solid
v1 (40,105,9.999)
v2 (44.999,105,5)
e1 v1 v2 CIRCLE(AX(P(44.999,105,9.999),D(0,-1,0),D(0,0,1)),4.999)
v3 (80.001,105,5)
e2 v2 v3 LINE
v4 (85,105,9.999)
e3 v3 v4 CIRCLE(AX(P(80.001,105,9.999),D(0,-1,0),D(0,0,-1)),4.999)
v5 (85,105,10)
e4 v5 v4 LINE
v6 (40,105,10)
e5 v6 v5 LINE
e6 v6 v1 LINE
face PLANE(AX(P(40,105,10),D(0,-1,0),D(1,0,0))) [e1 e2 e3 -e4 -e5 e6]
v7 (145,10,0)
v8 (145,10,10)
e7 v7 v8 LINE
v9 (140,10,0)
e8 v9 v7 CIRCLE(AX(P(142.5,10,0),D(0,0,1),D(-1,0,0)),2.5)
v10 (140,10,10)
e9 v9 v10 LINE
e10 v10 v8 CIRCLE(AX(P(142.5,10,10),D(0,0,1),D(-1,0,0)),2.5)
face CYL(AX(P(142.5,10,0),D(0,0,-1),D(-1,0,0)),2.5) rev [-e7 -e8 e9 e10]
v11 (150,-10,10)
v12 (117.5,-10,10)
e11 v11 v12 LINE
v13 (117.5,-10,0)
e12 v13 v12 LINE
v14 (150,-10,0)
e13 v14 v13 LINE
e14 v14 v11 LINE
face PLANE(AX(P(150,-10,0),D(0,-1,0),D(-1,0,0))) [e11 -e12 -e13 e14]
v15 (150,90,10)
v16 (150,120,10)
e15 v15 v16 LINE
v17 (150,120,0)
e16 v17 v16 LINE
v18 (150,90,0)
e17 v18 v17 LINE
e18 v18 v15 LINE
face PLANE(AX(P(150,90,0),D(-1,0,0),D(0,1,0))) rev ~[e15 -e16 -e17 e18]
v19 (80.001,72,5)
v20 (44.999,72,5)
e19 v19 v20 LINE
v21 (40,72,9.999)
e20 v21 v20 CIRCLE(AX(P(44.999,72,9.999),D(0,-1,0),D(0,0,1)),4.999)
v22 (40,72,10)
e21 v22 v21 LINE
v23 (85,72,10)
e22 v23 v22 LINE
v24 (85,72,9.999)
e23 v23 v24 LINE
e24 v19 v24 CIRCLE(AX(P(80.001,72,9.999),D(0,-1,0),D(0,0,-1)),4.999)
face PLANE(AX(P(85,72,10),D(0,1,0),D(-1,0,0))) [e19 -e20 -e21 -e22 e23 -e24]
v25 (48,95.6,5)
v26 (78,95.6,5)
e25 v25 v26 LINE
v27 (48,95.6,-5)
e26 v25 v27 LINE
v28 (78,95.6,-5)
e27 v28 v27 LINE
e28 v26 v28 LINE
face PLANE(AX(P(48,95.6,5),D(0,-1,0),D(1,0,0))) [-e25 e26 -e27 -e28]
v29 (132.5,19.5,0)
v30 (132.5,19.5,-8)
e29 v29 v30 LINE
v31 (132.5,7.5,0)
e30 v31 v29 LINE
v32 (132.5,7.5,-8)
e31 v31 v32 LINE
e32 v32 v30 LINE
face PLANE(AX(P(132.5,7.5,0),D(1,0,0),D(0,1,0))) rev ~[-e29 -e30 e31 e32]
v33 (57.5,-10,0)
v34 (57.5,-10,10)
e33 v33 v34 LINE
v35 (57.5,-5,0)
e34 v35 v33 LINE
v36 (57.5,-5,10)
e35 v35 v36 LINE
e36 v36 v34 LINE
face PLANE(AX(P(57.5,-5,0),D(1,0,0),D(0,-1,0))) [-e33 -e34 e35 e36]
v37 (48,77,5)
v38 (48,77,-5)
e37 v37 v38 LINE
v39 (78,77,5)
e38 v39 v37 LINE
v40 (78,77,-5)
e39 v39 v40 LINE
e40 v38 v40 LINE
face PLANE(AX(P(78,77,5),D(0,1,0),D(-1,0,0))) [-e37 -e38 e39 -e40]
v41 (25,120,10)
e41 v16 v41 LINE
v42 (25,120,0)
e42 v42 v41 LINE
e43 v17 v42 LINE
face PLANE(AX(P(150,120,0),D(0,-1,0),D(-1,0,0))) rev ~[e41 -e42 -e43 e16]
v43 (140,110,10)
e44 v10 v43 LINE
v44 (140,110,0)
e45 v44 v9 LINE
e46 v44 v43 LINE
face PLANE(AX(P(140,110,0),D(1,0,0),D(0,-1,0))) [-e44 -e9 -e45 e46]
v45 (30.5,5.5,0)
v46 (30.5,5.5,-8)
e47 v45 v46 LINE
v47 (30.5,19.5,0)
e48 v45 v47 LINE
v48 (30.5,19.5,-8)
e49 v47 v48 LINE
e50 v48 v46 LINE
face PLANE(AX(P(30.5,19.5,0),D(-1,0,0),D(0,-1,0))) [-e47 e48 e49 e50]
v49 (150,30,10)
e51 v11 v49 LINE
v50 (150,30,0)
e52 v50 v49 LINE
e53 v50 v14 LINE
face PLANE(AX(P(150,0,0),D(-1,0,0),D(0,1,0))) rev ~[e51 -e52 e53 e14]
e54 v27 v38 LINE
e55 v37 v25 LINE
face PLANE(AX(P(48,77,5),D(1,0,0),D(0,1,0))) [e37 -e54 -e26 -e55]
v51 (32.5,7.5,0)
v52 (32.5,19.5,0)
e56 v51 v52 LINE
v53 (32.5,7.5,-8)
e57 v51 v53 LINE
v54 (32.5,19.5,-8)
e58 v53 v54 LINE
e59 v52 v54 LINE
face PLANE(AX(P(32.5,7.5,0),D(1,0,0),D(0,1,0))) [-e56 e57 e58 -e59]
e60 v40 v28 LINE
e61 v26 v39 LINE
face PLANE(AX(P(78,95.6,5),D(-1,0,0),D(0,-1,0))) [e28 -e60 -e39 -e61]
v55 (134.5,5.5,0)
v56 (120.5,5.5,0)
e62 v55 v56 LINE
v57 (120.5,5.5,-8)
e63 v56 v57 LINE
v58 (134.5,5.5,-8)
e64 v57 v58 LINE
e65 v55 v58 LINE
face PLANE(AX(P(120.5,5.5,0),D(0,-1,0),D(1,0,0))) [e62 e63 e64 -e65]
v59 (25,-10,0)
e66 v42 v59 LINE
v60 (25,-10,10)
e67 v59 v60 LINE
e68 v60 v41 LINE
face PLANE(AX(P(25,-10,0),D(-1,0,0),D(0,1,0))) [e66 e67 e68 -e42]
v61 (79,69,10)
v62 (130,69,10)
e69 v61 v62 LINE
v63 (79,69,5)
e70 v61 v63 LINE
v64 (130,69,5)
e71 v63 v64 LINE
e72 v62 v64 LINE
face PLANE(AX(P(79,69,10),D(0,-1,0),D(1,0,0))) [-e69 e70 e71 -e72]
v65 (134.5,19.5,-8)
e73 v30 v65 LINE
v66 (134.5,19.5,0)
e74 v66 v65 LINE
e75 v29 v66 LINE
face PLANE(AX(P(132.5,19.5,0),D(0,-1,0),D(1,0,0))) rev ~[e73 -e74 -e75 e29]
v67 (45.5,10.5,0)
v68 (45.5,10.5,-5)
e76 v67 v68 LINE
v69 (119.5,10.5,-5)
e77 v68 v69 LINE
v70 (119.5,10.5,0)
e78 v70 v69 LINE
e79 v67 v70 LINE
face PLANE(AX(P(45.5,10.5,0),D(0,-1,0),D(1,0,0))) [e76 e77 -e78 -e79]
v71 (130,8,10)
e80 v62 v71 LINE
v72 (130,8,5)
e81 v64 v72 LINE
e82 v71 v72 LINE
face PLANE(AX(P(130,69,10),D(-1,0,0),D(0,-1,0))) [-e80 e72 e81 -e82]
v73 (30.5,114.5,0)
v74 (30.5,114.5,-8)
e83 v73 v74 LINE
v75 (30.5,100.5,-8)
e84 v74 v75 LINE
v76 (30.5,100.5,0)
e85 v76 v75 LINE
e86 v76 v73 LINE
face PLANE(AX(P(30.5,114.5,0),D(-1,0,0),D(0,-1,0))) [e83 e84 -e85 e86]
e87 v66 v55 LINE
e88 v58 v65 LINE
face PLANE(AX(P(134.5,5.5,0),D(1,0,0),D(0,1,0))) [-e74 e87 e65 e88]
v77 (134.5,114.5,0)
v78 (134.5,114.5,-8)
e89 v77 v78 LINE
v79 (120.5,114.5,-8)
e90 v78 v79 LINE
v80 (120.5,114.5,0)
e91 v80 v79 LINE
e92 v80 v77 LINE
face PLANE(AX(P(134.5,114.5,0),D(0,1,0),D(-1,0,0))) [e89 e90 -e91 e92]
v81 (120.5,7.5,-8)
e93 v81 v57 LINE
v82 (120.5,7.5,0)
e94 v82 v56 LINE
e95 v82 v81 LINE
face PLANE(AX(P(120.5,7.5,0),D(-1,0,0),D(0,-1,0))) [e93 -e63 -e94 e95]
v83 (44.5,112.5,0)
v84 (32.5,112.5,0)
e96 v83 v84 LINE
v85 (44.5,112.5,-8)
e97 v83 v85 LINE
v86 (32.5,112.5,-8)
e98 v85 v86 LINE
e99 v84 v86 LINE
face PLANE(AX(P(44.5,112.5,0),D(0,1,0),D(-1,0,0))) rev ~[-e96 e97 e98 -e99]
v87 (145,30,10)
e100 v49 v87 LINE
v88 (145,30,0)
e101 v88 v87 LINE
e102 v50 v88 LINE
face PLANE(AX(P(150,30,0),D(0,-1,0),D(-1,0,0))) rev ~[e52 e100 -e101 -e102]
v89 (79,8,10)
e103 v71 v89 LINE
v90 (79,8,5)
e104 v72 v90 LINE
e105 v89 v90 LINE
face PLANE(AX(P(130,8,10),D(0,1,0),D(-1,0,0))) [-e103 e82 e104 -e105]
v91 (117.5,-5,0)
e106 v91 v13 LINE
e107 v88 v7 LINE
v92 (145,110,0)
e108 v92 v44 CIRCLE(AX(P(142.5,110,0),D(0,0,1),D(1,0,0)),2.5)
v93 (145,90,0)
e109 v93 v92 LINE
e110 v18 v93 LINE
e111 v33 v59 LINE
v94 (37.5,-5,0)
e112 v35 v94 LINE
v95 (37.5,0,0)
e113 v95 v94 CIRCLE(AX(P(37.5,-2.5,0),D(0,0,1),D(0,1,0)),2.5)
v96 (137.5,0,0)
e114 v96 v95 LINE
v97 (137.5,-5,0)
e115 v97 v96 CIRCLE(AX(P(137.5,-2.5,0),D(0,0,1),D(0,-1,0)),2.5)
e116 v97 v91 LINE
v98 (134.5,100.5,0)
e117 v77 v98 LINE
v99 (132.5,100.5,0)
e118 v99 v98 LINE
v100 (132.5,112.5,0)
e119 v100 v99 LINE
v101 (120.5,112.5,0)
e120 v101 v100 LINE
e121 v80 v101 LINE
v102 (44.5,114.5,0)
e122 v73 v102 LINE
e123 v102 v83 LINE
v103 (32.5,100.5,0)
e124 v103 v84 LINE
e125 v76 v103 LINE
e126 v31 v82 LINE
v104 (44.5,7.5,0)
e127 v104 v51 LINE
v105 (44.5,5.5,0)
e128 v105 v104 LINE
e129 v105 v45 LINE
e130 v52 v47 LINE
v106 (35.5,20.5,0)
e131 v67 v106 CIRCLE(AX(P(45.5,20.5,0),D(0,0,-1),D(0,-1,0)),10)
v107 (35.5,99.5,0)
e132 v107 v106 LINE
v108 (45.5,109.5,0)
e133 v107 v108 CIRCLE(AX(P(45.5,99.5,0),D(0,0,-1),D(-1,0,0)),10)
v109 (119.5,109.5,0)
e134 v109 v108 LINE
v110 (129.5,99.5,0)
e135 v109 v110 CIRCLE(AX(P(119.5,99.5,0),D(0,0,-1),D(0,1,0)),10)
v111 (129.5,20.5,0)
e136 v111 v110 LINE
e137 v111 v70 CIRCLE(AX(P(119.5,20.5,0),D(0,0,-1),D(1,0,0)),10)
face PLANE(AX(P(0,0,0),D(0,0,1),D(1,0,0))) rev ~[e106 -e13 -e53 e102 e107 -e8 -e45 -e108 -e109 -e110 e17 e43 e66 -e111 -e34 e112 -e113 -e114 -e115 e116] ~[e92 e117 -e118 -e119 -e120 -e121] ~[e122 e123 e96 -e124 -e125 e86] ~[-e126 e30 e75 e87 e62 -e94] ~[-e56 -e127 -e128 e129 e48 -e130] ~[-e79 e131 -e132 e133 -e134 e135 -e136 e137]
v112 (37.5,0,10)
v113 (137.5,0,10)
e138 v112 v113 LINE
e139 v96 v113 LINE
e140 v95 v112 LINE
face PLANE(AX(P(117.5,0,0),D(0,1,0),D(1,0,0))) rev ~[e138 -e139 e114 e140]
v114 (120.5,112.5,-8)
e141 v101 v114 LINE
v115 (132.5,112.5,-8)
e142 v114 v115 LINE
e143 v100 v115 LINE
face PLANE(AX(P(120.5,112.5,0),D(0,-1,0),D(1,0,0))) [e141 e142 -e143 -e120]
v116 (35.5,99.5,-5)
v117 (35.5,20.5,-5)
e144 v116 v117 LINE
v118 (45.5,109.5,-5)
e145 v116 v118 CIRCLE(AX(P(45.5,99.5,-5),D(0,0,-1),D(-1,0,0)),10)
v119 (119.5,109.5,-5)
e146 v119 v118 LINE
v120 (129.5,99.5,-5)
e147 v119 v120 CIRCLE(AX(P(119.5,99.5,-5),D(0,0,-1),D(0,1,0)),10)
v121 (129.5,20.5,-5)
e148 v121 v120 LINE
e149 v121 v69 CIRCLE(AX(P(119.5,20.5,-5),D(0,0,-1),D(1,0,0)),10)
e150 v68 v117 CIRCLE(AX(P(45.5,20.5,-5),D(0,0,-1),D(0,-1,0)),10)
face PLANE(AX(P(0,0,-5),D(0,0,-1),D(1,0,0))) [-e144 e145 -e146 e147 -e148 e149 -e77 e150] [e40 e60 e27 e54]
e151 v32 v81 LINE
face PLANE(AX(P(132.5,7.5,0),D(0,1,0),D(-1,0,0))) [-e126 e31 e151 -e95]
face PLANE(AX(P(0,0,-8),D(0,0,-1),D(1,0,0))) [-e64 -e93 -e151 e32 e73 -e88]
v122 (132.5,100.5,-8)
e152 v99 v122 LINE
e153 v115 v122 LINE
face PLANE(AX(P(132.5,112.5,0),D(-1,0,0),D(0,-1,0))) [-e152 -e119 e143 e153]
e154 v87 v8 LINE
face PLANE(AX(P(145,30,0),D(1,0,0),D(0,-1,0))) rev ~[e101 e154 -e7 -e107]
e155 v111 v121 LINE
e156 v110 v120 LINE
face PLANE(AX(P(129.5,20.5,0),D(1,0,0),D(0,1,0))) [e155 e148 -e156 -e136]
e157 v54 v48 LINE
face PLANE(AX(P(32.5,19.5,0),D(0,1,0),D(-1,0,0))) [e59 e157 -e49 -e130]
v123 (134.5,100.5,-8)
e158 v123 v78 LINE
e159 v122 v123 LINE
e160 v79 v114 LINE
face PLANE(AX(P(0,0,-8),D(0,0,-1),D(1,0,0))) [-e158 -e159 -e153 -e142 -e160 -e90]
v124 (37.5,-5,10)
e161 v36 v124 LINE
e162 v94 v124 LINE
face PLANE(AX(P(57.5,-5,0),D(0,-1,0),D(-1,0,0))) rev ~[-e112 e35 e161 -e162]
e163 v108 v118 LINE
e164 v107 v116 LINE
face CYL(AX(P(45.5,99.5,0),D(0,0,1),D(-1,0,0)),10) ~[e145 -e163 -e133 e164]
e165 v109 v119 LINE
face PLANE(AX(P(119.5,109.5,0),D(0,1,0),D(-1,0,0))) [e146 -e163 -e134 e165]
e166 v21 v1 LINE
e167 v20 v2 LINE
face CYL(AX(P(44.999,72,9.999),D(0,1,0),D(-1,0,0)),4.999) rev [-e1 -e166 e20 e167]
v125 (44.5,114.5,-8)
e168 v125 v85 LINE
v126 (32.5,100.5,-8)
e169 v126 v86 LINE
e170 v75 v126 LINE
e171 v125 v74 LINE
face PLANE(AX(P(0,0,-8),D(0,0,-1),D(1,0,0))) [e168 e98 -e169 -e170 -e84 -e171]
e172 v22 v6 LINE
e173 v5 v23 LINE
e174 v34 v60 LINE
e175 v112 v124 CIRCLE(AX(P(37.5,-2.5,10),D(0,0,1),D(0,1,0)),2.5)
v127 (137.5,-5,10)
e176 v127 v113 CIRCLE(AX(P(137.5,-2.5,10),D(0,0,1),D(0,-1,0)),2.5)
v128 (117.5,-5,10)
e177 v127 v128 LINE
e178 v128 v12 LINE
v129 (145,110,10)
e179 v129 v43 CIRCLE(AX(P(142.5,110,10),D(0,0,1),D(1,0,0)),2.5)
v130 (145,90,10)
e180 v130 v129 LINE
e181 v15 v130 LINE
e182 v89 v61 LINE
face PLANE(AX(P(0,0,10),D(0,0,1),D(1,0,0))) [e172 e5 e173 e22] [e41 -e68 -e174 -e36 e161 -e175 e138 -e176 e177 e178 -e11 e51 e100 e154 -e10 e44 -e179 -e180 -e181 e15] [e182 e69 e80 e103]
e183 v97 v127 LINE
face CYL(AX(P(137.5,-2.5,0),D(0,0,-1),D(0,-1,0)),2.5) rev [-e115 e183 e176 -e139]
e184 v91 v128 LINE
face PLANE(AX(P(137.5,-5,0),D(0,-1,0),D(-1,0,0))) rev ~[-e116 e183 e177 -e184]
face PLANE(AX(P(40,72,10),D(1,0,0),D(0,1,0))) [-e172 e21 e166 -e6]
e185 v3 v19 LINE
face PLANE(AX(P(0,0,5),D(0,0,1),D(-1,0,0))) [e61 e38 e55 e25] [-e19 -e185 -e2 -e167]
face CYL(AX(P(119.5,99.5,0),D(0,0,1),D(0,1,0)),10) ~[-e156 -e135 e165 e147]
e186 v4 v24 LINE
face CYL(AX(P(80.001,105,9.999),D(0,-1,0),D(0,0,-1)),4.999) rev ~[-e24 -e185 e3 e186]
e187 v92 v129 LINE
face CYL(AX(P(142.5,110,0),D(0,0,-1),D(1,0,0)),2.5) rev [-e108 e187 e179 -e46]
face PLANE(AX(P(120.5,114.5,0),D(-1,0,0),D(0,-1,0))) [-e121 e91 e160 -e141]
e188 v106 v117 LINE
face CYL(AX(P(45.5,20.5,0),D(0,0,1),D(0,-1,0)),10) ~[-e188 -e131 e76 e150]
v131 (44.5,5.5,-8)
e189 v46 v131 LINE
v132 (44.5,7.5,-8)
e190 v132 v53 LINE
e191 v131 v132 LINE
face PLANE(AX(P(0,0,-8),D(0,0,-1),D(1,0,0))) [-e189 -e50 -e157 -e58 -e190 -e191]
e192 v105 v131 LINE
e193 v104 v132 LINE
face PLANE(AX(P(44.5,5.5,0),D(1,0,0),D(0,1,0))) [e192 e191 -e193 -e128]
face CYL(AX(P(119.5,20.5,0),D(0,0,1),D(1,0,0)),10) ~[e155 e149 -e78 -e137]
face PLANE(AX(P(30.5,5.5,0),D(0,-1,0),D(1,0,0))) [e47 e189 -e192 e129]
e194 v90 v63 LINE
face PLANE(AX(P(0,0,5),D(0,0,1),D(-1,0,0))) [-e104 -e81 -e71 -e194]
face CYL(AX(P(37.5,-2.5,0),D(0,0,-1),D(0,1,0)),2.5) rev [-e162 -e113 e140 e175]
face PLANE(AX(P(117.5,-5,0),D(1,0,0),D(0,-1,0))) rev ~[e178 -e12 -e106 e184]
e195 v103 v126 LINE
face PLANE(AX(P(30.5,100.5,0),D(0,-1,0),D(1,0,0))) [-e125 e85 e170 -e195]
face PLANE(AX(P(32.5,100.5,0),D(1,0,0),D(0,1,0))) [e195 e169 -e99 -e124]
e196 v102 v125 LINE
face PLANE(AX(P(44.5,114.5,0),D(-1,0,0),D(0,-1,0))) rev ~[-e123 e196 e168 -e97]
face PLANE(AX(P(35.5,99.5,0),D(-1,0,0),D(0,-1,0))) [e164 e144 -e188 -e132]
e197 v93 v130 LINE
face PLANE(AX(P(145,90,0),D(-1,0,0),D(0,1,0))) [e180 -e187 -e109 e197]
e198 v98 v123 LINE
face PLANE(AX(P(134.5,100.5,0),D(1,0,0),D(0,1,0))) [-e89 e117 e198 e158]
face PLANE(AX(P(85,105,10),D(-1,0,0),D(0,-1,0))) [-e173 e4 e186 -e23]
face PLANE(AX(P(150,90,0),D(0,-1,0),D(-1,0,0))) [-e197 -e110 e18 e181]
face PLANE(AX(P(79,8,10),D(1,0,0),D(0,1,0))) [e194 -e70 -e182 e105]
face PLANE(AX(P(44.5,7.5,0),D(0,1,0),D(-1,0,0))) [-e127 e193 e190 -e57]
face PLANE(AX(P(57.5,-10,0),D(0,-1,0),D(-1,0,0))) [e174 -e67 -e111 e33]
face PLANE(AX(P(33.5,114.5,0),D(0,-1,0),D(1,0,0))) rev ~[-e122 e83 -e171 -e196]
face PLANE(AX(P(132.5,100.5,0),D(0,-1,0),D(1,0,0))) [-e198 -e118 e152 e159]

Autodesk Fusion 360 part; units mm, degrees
sketch "草图1" plane through (0, 0, 0) normal (0, 0, 1) x (1, 0, 0)
  line L0 (57.5, -10) -> (25, -10)
  line L1 (25, -10) -> (25, 0)
  line L2 (25, 0) -> (150, 0)
  line L3 (57.5, -5) -> (57.5, -10)
  line L4 (87.5, 0) -> (117.5, 0)
  arc A0 (137.5, -5) -> (137.5, 0) centre (137.5, -2.5) ccw
  line L5 (150, 30) -> (145, 30)
  arc A1 (37.5, 0) -> (37.5, -5) centre (37.5, -2.5) ccw
  line L6 (150, -10) -> (117.5, -10)
  line L7 (140, 110) -> (140, 60)
  line L8 (150, 120) -> (25, 120)
  line L9 (150, 90) -> (145, 90)
  line L10 (150, 90) -> (150, 120)
  line L11 (87.5, 0) -> (87.5, 120) construction
  line L12 (117.5, -5) -> (117.5, -10)
  line L13 (145, 30) -> (145, 10)
  arc A2 (140, 10) -> (145, 10) centre (142.5, 10) ccw
  line L14 (150, 0) -> (150, 30)
  line L15 (150, 0) -> (150, -10)
  line L16 (137.5, -5) -> (117.5, -5)
  line L17 (140, 10) -> (140, 60)
  line L18 (145, 90) -> (145, 110)
  arc A3 (145, 110) -> (140, 110) centre (142.5, 110) ccw
  line L19 (57.5, -5) -> (37.5, -5)
  line L20 (25, 0) -> (150, 0)
  line L21 (25, 120) -> (25, 0)
  dimension "d1" = 120
  dimension "d2" = 125
  dimension "d3" = 100
  dimension "d4" = 20
  dimension "d5" = 20
  dimension "d6" = 5
  dimension "d7" = 5
  dimension "d8" = 2.5
  dimension "d9" = 2.5
  dimension "d10" = 10
extrude "拉伸1" add sketch "草图1" along normal blind 10 makes body 1
sketch "草图2" plane through (0, 0, 0) normal (0, 0, -1) x (1, 0, 0)
  line L0 (150, -120) -> (150, -90)
  line L1 (150, -90) -> (145, -90)
  line L2 (145, -90) -> (145, -110)
  arc A0 (140, -110) -> (145, -110) centre (142.5, -110) ccw
  line L3 (140, -110) -> (140, -10)
  arc A1 (145, -10) -> (140, -10) centre (142.5, -10) ccw
  line L4 (145, -10) -> (145, -30)
  line L5 (145, -30) -> (150, -30)
  line L6 (150, -30) -> (150, 10)
  line L7 (150, 10) -> (117.5, 10)
  line L8 (117.5, 10) -> (117.5, 5)
  line L9 (117.5, 5) -> (137.5, 5)
  arc A2 (137.5, 0) -> (137.5, 5) centre (137.5, 2.5) ccw
  line L10 (137.5, 0) -> (37.5, 0)
  arc A3 (37.5, 5) -> (37.5, 0) centre (37.5, 2.5) ccw
  line L11 (37.5, 5) -> (57.5, 5)
  line L12 (57.5, 5) -> (57.5, 10)
  line L13 (57.5, 10) -> (25, 10)
  line L14 (25, 10) -> (25, -120)
  line L15 (25, -120) -> (150, -120)
  line L16 (45.5, -10.5) -> (119.5, -10.5)
  line L17 (129.5, -20.5) -> (129.5, -99.5)
  line L18 (119.5, -109.5) -> (45.5, -109.5)
  line L19 (35.5, -99.5) -> (35.5, -20.5)
  arc A4 (45.5, -10.5) -> (35.5, -20.5) centre (45.5, -20.5) ccw
  arc A5 (129.5, -20.5) -> (119.5, -10.5) centre (119.5, -20.5) ccw
  arc A6 (119.5, -109.5) -> (129.5, -99.5) centre (119.5, -99.5) ccw
  arc A7 (35.5, -99.5) -> (45.5, -109.5) centre (45.5, -99.5) ccw
  point P0 (35.5, -10.5)
  point P1 (129.5, -10.5)
  point P2 (35.5, -109.5)
  dimension "d13" = 94
  dimension "d14" = 99
  dimension "d15" = 10.5
  dimension "d16" = 10.5
  dimension "d17" = 10.5
  dimension "d18" = 10.5
  dimension "d19" = 10
  dimension "d20" = 10
  dimension "d21" = 10
  dimension "d22" = 10
extrude "拉伸2" add sketch "草图2" along normal blind 5 contours L16 L17 L18 L19 A4 A5 A6 A7 bodies 1
sketch "草图3" plane through (0, 0, 0) normal (0, 0, -1) x (1, 0, 0)
  line L0 (45.5, -10.5) -> (119.5, -10.5)
  arc A0 (129.5, -20.5) -> (119.5, -10.5) centre (119.5, -20.5) ccw
  line L1 (129.5, -20.5) -> (129.5, -99.5)
  arc A1 (119.5, -109.5) -> (129.5, -99.5) centre (119.5, -99.5) ccw
  line L2 (119.5, -109.5) -> (45.5, -109.5)
  arc A2 (35.5, -99.5) -> (45.5, -109.5) centre (45.5, -99.5) ccw
  line L3 (35.5, -99.5) -> (35.5, -20.5)
  arc A3 (45.5, -10.5) -> (35.5, -20.5) centre (45.5, -20.5) ccw
  line L4 (150, -120) -> (150, -90)
  line L5 (150, -90) -> (145, -90)
  line L6 (145, -90) -> (145, -110)
  arc A4 (140, -110) -> (145, -110) centre (142.5, -110) ccw
  line L7 (140, -110) -> (140, -10)
  arc A5 (145, -10) -> (140, -10) centre (142.5, -10) ccw
  line L8 (145, -10) -> (145, -30)
  line L9 (145, -30) -> (150, -30)
  line L10 (150, -30) -> (150, 10)
  line L11 (150, 10) -> (117.5, 10)
  line L12 (117.5, 10) -> (117.5, 5)
  line L13 (117.5, 5) -> (137.5, 5)
  arc A6 (137.5, 0) -> (137.5, 5) centre (137.5, 2.5) ccw
  line L14 (137.5, 0) -> (37.5, 0)
  arc A7 (37.5, 5) -> (37.5, 0) centre (37.5, 2.5) ccw
  line L15 (37.5, 5) -> (57.5, 5)
  line L16 (57.5, 5) -> (57.5, 10)
  line L17 (57.5, 10) -> (25, 10)
  line L18 (25, 10) -> (25, -120)
  line L19 (25, -120) -> (150, -120)
  line L20 (30.5, -5.5) -> (44.5, -5.5)
  line L21 (44.5, -5.5) -> (44.5, -7.5)
  line L22 (44.5, -7.5) -> (32.5, -7.5)
  line L23 (30.5, -7.5) -> (30.5, -5.5)
  line L24 (30.5, -5.5) -> (33.5, -5.5)
  line L25 (32.5, -7.5) -> (32.5, -19.5)
  line L26 (32.5, -19.5) -> (30.5, -19.5)
  line L27 (30.5, -19.5) -> (30.5, -5.5)
  line L28 (120.5, -5.5) -> (134.5, -5.5)
  line L29 (134.5, -5.5) -> (134.5, -8.5)
  line L30 (132.5, -7.5) -> (120.5, -7.5)
  line L31 (120.5, -7.5) -> (120.5, -5.5)
  line L32 (134.5, -5.5) -> (131.5, -5.5)
  line L33 (132.5, -7.5) -> (132.5, -19.5)
  line L34 (132.5, -19.5) -> (134.5, -19.5)
  line L35 (134.5, -19.5) -> (134.5, -5.5)
  line L36 (30.5, -100.5) -> (32.5, -100.5)
  line L37 (32.5, -100.5) -> (32.5, -112.5)
  line L38 (33.5, -114.5) -> (30.5, -114.5)
  line L39 (30.5, -114.5) -> (30.5, -100.5)
  line L40 (30.5, -114.5) -> (44.5, -114.5)
  line L41 (44.5, -114.5) -> (44.5, -112.5)
  line L42 (44.5, -112.5) -> (32.5, -112.5)
  line L43 (30.5, -111.5) -> (30.5, -114.5)
  line L44 (120.5, -112.5) -> (132.5, -112.5)
  line L45 (134.5, -112.5) -> (134.5, -114.5)
  line L46 (134.5, -114.5) -> (120.5, -114.5)
  line L47 (120.5, -114.5) -> (120.5, -112.5)
  line L48 (134.5, -114.5) -> (131.5, -114.5)
  line L49 (132.5, -112.5) -> (132.5, -100.5)
  line L50 (132.5, -100.5) -> (134.5, -100.5)
  line L51 (134.5, -100.5) -> (134.5, -114.5)
  dimension "d28" = 14
  dimension "d29" = 5.5
  dimension "d30" = 5.5
  dimension "d31" = 14
  dimension "d32" = 2
  dimension "d34" = 14
  dimension "d35" = 5.5
  dimension "d36" = 5.5
  dimension "d37" = 2
  dimension "d38" = 14
  dimension "d39" = 14
  dimension "d41" = 5.5
  dimension "d42" = 5.5
  dimension "d43" = 14
  dimension "d44" = 2
  dimension "d45" = 14
  dimension "d46" = 5.5
  dimension "d47" = 5.5
  dimension "d107" = 2
  dimension "d108" = 14
  dimension "d109" = 2
  dimension "d110" = 2
  dimension "d111" = 2
  dimension "d112" = 2
extrude "拉伸3" add sketch "草图3" along normal blind 8 contours L20 L21 L22 L23 L24 L25 L26 L27 | L28 L29 L30 L31 L32 L33 L34 L35 | L36 L37 L38 L39 L40 L41 L42 L43 | L44 L45 L46 L47 L48 L49 L50 L51 bodies 1
sketch "草图4" plane through (0, 0, 10) normal (0, 0, 1) x (-1, 0, 0)
  line L0 (-150, -90) -> (-150, -120)
  line L1 (-150, -120) -> (-25, -120)
  line L2 (-25, -120) -> (-25, 10)
  line L3 (-25, 10) -> (-57.5, 10)
  line L4 (-57.5, 10) -> (-57.5, 5)
  line L5 (-57.5, 5) -> (-37.5, 5)
  arc A0 (-37.5, 0) -> (-37.5, 5) centre (-37.5, 2.5) ccw
  line L6 (-37.5, 0) -> (-137.5, 0)
  arc A1 (-137.5, 5) -> (-137.5, 0) centre (-137.5, 2.5) ccw
  line L7 (-137.5, 5) -> (-117.5, 5)
  line L8 (-117.5, 5) -> (-117.5, 10)
  line L9 (-117.5, 10) -> (-150, 10)
  line L10 (-150, 10) -> (-150, -30)
  line L11 (-150, -30) -> (-145, -30)
  line L12 (-145, -30) -> (-145, -10)
  arc A2 (-140, -10) -> (-145, -10) centre (-142.5, -10) ccw
  line L13 (-140, -10) -> (-140, -110)
  arc A3 (-145, -110) -> (-140, -110) centre (-142.5, -110) ccw
  line L14 (-145, -110) -> (-145, -90)
  line L15 (-145, -90) -> (-150, -90)
  line L16 (-40, -105) -> (-85, -105)
  line L17 (-85, -105) -> (-85, -72)
  line L18 (-85, -72) -> (-40, -72)
  line L19 (-40, -72) -> (-40, -105)
  dimension "d50" = 45
  dimension "d51" = 33
  dimension "d52" = 15
  dimension "d53" = 15
extrude "拉伸4" cut sketch "草图4" against normal blind 5 contours L16 L17 L18 L19 bodies 1
fillet "圆角1" radius 5 1 edges at (40, 88.5, 5) on bodies 1
fillet "圆角2" radius 5 1 edges at (85, 88.5, 5) on bodies 1
sketch "草图5" plane through (0, 0, 10) normal (0, 0, 1) x (-1, 0, 0)
  line L0 (-85, -105) -> (-85, -72)
  line L1 (-85, -72) -> (-40, -72)
  line L2 (-40, -72) -> (-40, -105)
  line L3 (-40, -105) -> (-85, -105)
  line L4 (-150, -90) -> (-150, -120)
  line L5 (-150, -120) -> (-25, -120)
  line L6 (-25, -120) -> (-25, 10)
  line L7 (-25, 10) -> (-57.5, 10)
  line L8 (-57.5, 10) -> (-57.5, 5)
  line L9 (-57.5, 5) -> (-37.5, 5)
  arc A0 (-37.5, 0) -> (-37.5, 5) centre (-37.5, 2.5) ccw
  line L10 (-37.5, 0) -> (-137.5, 0)
  arc A1 (-137.5, 5) -> (-137.5, 0) centre (-137.5, 2.5) ccw
  line L11 (-137.5, 5) -> (-117.5, 5)
  line L12 (-117.5, 5) -> (-117.5, 10)
  line L13 (-117.5, 10) -> (-150, 10)
  line L14 (-150, 10) -> (-150, -30)
  line L15 (-150, -30) -> (-145, -30)
  line L16 (-145, -30) -> (-145, -10)
  arc A2 (-140, -10) -> (-145, -10) centre (-142.5, -10) ccw
  line L17 (-140, -10) -> (-140, -110)
  arc A3 (-145, -110) -> (-140, -110) centre (-142.5, -110) ccw
  line L18 (-145, -110) -> (-145, -90)
  line L19 (-145, -90) -> (-150, -90)
  line L20 (-79, -69) -> (-130, -69)
  line L21 (-130, -69) -> (-130, -8)
  line L22 (-130, -8) -> (-79, -8)
  line L23 (-79, -8) -> (-79, -69)
  dimension "d60" = 10
  dimension "d61" = 8
  dimension "d113" = 61
  dimension "d114" = 51
sketch "草图12" plane through (0, 0, 5) normal (0, 0, 1) x (-1, 0, 0)
  line L0 (-80, -72) -> (-80, -105)
  line L1 (-80, -105) -> (-45, -105)
  line L2 (-45, -105) -> (-45, -72)
  line L3 (-45, -72) -> (-80, -72)
  line L4 (-85, -72) -> (-40, -72)
  line L5 (-48, -95.6) -> (-78, -95.6)
  line L6 (-78, -95.6) -> (-78, -77)
  line L7 (-78, -77) -> (-48, -77)
  line L8 (-48, -77) -> (-48, -95.6)
  dimension "d92" = 30
  dimension "d93" = 18.6
  dimension "d94" = 5
  dimension "d95" = 2
extrude "拉伸13" cut sketch "草图12" against normal blind 11 contours L5 L6 L7 L8 bodies 1
copy_body "实体->零部件2" bodies 1 removing the originals makes body 2 in component "支架2"
extrude "拉伸1'" cut sketch "草图5" against normal blind 5 contours L20 L21 L22 L23 bodies 2 in component "支架2"
component "支架2" placed x (1, 0, 0) y (0, 1, 0) z (0, 0, 1) at (0, 0, 0)
